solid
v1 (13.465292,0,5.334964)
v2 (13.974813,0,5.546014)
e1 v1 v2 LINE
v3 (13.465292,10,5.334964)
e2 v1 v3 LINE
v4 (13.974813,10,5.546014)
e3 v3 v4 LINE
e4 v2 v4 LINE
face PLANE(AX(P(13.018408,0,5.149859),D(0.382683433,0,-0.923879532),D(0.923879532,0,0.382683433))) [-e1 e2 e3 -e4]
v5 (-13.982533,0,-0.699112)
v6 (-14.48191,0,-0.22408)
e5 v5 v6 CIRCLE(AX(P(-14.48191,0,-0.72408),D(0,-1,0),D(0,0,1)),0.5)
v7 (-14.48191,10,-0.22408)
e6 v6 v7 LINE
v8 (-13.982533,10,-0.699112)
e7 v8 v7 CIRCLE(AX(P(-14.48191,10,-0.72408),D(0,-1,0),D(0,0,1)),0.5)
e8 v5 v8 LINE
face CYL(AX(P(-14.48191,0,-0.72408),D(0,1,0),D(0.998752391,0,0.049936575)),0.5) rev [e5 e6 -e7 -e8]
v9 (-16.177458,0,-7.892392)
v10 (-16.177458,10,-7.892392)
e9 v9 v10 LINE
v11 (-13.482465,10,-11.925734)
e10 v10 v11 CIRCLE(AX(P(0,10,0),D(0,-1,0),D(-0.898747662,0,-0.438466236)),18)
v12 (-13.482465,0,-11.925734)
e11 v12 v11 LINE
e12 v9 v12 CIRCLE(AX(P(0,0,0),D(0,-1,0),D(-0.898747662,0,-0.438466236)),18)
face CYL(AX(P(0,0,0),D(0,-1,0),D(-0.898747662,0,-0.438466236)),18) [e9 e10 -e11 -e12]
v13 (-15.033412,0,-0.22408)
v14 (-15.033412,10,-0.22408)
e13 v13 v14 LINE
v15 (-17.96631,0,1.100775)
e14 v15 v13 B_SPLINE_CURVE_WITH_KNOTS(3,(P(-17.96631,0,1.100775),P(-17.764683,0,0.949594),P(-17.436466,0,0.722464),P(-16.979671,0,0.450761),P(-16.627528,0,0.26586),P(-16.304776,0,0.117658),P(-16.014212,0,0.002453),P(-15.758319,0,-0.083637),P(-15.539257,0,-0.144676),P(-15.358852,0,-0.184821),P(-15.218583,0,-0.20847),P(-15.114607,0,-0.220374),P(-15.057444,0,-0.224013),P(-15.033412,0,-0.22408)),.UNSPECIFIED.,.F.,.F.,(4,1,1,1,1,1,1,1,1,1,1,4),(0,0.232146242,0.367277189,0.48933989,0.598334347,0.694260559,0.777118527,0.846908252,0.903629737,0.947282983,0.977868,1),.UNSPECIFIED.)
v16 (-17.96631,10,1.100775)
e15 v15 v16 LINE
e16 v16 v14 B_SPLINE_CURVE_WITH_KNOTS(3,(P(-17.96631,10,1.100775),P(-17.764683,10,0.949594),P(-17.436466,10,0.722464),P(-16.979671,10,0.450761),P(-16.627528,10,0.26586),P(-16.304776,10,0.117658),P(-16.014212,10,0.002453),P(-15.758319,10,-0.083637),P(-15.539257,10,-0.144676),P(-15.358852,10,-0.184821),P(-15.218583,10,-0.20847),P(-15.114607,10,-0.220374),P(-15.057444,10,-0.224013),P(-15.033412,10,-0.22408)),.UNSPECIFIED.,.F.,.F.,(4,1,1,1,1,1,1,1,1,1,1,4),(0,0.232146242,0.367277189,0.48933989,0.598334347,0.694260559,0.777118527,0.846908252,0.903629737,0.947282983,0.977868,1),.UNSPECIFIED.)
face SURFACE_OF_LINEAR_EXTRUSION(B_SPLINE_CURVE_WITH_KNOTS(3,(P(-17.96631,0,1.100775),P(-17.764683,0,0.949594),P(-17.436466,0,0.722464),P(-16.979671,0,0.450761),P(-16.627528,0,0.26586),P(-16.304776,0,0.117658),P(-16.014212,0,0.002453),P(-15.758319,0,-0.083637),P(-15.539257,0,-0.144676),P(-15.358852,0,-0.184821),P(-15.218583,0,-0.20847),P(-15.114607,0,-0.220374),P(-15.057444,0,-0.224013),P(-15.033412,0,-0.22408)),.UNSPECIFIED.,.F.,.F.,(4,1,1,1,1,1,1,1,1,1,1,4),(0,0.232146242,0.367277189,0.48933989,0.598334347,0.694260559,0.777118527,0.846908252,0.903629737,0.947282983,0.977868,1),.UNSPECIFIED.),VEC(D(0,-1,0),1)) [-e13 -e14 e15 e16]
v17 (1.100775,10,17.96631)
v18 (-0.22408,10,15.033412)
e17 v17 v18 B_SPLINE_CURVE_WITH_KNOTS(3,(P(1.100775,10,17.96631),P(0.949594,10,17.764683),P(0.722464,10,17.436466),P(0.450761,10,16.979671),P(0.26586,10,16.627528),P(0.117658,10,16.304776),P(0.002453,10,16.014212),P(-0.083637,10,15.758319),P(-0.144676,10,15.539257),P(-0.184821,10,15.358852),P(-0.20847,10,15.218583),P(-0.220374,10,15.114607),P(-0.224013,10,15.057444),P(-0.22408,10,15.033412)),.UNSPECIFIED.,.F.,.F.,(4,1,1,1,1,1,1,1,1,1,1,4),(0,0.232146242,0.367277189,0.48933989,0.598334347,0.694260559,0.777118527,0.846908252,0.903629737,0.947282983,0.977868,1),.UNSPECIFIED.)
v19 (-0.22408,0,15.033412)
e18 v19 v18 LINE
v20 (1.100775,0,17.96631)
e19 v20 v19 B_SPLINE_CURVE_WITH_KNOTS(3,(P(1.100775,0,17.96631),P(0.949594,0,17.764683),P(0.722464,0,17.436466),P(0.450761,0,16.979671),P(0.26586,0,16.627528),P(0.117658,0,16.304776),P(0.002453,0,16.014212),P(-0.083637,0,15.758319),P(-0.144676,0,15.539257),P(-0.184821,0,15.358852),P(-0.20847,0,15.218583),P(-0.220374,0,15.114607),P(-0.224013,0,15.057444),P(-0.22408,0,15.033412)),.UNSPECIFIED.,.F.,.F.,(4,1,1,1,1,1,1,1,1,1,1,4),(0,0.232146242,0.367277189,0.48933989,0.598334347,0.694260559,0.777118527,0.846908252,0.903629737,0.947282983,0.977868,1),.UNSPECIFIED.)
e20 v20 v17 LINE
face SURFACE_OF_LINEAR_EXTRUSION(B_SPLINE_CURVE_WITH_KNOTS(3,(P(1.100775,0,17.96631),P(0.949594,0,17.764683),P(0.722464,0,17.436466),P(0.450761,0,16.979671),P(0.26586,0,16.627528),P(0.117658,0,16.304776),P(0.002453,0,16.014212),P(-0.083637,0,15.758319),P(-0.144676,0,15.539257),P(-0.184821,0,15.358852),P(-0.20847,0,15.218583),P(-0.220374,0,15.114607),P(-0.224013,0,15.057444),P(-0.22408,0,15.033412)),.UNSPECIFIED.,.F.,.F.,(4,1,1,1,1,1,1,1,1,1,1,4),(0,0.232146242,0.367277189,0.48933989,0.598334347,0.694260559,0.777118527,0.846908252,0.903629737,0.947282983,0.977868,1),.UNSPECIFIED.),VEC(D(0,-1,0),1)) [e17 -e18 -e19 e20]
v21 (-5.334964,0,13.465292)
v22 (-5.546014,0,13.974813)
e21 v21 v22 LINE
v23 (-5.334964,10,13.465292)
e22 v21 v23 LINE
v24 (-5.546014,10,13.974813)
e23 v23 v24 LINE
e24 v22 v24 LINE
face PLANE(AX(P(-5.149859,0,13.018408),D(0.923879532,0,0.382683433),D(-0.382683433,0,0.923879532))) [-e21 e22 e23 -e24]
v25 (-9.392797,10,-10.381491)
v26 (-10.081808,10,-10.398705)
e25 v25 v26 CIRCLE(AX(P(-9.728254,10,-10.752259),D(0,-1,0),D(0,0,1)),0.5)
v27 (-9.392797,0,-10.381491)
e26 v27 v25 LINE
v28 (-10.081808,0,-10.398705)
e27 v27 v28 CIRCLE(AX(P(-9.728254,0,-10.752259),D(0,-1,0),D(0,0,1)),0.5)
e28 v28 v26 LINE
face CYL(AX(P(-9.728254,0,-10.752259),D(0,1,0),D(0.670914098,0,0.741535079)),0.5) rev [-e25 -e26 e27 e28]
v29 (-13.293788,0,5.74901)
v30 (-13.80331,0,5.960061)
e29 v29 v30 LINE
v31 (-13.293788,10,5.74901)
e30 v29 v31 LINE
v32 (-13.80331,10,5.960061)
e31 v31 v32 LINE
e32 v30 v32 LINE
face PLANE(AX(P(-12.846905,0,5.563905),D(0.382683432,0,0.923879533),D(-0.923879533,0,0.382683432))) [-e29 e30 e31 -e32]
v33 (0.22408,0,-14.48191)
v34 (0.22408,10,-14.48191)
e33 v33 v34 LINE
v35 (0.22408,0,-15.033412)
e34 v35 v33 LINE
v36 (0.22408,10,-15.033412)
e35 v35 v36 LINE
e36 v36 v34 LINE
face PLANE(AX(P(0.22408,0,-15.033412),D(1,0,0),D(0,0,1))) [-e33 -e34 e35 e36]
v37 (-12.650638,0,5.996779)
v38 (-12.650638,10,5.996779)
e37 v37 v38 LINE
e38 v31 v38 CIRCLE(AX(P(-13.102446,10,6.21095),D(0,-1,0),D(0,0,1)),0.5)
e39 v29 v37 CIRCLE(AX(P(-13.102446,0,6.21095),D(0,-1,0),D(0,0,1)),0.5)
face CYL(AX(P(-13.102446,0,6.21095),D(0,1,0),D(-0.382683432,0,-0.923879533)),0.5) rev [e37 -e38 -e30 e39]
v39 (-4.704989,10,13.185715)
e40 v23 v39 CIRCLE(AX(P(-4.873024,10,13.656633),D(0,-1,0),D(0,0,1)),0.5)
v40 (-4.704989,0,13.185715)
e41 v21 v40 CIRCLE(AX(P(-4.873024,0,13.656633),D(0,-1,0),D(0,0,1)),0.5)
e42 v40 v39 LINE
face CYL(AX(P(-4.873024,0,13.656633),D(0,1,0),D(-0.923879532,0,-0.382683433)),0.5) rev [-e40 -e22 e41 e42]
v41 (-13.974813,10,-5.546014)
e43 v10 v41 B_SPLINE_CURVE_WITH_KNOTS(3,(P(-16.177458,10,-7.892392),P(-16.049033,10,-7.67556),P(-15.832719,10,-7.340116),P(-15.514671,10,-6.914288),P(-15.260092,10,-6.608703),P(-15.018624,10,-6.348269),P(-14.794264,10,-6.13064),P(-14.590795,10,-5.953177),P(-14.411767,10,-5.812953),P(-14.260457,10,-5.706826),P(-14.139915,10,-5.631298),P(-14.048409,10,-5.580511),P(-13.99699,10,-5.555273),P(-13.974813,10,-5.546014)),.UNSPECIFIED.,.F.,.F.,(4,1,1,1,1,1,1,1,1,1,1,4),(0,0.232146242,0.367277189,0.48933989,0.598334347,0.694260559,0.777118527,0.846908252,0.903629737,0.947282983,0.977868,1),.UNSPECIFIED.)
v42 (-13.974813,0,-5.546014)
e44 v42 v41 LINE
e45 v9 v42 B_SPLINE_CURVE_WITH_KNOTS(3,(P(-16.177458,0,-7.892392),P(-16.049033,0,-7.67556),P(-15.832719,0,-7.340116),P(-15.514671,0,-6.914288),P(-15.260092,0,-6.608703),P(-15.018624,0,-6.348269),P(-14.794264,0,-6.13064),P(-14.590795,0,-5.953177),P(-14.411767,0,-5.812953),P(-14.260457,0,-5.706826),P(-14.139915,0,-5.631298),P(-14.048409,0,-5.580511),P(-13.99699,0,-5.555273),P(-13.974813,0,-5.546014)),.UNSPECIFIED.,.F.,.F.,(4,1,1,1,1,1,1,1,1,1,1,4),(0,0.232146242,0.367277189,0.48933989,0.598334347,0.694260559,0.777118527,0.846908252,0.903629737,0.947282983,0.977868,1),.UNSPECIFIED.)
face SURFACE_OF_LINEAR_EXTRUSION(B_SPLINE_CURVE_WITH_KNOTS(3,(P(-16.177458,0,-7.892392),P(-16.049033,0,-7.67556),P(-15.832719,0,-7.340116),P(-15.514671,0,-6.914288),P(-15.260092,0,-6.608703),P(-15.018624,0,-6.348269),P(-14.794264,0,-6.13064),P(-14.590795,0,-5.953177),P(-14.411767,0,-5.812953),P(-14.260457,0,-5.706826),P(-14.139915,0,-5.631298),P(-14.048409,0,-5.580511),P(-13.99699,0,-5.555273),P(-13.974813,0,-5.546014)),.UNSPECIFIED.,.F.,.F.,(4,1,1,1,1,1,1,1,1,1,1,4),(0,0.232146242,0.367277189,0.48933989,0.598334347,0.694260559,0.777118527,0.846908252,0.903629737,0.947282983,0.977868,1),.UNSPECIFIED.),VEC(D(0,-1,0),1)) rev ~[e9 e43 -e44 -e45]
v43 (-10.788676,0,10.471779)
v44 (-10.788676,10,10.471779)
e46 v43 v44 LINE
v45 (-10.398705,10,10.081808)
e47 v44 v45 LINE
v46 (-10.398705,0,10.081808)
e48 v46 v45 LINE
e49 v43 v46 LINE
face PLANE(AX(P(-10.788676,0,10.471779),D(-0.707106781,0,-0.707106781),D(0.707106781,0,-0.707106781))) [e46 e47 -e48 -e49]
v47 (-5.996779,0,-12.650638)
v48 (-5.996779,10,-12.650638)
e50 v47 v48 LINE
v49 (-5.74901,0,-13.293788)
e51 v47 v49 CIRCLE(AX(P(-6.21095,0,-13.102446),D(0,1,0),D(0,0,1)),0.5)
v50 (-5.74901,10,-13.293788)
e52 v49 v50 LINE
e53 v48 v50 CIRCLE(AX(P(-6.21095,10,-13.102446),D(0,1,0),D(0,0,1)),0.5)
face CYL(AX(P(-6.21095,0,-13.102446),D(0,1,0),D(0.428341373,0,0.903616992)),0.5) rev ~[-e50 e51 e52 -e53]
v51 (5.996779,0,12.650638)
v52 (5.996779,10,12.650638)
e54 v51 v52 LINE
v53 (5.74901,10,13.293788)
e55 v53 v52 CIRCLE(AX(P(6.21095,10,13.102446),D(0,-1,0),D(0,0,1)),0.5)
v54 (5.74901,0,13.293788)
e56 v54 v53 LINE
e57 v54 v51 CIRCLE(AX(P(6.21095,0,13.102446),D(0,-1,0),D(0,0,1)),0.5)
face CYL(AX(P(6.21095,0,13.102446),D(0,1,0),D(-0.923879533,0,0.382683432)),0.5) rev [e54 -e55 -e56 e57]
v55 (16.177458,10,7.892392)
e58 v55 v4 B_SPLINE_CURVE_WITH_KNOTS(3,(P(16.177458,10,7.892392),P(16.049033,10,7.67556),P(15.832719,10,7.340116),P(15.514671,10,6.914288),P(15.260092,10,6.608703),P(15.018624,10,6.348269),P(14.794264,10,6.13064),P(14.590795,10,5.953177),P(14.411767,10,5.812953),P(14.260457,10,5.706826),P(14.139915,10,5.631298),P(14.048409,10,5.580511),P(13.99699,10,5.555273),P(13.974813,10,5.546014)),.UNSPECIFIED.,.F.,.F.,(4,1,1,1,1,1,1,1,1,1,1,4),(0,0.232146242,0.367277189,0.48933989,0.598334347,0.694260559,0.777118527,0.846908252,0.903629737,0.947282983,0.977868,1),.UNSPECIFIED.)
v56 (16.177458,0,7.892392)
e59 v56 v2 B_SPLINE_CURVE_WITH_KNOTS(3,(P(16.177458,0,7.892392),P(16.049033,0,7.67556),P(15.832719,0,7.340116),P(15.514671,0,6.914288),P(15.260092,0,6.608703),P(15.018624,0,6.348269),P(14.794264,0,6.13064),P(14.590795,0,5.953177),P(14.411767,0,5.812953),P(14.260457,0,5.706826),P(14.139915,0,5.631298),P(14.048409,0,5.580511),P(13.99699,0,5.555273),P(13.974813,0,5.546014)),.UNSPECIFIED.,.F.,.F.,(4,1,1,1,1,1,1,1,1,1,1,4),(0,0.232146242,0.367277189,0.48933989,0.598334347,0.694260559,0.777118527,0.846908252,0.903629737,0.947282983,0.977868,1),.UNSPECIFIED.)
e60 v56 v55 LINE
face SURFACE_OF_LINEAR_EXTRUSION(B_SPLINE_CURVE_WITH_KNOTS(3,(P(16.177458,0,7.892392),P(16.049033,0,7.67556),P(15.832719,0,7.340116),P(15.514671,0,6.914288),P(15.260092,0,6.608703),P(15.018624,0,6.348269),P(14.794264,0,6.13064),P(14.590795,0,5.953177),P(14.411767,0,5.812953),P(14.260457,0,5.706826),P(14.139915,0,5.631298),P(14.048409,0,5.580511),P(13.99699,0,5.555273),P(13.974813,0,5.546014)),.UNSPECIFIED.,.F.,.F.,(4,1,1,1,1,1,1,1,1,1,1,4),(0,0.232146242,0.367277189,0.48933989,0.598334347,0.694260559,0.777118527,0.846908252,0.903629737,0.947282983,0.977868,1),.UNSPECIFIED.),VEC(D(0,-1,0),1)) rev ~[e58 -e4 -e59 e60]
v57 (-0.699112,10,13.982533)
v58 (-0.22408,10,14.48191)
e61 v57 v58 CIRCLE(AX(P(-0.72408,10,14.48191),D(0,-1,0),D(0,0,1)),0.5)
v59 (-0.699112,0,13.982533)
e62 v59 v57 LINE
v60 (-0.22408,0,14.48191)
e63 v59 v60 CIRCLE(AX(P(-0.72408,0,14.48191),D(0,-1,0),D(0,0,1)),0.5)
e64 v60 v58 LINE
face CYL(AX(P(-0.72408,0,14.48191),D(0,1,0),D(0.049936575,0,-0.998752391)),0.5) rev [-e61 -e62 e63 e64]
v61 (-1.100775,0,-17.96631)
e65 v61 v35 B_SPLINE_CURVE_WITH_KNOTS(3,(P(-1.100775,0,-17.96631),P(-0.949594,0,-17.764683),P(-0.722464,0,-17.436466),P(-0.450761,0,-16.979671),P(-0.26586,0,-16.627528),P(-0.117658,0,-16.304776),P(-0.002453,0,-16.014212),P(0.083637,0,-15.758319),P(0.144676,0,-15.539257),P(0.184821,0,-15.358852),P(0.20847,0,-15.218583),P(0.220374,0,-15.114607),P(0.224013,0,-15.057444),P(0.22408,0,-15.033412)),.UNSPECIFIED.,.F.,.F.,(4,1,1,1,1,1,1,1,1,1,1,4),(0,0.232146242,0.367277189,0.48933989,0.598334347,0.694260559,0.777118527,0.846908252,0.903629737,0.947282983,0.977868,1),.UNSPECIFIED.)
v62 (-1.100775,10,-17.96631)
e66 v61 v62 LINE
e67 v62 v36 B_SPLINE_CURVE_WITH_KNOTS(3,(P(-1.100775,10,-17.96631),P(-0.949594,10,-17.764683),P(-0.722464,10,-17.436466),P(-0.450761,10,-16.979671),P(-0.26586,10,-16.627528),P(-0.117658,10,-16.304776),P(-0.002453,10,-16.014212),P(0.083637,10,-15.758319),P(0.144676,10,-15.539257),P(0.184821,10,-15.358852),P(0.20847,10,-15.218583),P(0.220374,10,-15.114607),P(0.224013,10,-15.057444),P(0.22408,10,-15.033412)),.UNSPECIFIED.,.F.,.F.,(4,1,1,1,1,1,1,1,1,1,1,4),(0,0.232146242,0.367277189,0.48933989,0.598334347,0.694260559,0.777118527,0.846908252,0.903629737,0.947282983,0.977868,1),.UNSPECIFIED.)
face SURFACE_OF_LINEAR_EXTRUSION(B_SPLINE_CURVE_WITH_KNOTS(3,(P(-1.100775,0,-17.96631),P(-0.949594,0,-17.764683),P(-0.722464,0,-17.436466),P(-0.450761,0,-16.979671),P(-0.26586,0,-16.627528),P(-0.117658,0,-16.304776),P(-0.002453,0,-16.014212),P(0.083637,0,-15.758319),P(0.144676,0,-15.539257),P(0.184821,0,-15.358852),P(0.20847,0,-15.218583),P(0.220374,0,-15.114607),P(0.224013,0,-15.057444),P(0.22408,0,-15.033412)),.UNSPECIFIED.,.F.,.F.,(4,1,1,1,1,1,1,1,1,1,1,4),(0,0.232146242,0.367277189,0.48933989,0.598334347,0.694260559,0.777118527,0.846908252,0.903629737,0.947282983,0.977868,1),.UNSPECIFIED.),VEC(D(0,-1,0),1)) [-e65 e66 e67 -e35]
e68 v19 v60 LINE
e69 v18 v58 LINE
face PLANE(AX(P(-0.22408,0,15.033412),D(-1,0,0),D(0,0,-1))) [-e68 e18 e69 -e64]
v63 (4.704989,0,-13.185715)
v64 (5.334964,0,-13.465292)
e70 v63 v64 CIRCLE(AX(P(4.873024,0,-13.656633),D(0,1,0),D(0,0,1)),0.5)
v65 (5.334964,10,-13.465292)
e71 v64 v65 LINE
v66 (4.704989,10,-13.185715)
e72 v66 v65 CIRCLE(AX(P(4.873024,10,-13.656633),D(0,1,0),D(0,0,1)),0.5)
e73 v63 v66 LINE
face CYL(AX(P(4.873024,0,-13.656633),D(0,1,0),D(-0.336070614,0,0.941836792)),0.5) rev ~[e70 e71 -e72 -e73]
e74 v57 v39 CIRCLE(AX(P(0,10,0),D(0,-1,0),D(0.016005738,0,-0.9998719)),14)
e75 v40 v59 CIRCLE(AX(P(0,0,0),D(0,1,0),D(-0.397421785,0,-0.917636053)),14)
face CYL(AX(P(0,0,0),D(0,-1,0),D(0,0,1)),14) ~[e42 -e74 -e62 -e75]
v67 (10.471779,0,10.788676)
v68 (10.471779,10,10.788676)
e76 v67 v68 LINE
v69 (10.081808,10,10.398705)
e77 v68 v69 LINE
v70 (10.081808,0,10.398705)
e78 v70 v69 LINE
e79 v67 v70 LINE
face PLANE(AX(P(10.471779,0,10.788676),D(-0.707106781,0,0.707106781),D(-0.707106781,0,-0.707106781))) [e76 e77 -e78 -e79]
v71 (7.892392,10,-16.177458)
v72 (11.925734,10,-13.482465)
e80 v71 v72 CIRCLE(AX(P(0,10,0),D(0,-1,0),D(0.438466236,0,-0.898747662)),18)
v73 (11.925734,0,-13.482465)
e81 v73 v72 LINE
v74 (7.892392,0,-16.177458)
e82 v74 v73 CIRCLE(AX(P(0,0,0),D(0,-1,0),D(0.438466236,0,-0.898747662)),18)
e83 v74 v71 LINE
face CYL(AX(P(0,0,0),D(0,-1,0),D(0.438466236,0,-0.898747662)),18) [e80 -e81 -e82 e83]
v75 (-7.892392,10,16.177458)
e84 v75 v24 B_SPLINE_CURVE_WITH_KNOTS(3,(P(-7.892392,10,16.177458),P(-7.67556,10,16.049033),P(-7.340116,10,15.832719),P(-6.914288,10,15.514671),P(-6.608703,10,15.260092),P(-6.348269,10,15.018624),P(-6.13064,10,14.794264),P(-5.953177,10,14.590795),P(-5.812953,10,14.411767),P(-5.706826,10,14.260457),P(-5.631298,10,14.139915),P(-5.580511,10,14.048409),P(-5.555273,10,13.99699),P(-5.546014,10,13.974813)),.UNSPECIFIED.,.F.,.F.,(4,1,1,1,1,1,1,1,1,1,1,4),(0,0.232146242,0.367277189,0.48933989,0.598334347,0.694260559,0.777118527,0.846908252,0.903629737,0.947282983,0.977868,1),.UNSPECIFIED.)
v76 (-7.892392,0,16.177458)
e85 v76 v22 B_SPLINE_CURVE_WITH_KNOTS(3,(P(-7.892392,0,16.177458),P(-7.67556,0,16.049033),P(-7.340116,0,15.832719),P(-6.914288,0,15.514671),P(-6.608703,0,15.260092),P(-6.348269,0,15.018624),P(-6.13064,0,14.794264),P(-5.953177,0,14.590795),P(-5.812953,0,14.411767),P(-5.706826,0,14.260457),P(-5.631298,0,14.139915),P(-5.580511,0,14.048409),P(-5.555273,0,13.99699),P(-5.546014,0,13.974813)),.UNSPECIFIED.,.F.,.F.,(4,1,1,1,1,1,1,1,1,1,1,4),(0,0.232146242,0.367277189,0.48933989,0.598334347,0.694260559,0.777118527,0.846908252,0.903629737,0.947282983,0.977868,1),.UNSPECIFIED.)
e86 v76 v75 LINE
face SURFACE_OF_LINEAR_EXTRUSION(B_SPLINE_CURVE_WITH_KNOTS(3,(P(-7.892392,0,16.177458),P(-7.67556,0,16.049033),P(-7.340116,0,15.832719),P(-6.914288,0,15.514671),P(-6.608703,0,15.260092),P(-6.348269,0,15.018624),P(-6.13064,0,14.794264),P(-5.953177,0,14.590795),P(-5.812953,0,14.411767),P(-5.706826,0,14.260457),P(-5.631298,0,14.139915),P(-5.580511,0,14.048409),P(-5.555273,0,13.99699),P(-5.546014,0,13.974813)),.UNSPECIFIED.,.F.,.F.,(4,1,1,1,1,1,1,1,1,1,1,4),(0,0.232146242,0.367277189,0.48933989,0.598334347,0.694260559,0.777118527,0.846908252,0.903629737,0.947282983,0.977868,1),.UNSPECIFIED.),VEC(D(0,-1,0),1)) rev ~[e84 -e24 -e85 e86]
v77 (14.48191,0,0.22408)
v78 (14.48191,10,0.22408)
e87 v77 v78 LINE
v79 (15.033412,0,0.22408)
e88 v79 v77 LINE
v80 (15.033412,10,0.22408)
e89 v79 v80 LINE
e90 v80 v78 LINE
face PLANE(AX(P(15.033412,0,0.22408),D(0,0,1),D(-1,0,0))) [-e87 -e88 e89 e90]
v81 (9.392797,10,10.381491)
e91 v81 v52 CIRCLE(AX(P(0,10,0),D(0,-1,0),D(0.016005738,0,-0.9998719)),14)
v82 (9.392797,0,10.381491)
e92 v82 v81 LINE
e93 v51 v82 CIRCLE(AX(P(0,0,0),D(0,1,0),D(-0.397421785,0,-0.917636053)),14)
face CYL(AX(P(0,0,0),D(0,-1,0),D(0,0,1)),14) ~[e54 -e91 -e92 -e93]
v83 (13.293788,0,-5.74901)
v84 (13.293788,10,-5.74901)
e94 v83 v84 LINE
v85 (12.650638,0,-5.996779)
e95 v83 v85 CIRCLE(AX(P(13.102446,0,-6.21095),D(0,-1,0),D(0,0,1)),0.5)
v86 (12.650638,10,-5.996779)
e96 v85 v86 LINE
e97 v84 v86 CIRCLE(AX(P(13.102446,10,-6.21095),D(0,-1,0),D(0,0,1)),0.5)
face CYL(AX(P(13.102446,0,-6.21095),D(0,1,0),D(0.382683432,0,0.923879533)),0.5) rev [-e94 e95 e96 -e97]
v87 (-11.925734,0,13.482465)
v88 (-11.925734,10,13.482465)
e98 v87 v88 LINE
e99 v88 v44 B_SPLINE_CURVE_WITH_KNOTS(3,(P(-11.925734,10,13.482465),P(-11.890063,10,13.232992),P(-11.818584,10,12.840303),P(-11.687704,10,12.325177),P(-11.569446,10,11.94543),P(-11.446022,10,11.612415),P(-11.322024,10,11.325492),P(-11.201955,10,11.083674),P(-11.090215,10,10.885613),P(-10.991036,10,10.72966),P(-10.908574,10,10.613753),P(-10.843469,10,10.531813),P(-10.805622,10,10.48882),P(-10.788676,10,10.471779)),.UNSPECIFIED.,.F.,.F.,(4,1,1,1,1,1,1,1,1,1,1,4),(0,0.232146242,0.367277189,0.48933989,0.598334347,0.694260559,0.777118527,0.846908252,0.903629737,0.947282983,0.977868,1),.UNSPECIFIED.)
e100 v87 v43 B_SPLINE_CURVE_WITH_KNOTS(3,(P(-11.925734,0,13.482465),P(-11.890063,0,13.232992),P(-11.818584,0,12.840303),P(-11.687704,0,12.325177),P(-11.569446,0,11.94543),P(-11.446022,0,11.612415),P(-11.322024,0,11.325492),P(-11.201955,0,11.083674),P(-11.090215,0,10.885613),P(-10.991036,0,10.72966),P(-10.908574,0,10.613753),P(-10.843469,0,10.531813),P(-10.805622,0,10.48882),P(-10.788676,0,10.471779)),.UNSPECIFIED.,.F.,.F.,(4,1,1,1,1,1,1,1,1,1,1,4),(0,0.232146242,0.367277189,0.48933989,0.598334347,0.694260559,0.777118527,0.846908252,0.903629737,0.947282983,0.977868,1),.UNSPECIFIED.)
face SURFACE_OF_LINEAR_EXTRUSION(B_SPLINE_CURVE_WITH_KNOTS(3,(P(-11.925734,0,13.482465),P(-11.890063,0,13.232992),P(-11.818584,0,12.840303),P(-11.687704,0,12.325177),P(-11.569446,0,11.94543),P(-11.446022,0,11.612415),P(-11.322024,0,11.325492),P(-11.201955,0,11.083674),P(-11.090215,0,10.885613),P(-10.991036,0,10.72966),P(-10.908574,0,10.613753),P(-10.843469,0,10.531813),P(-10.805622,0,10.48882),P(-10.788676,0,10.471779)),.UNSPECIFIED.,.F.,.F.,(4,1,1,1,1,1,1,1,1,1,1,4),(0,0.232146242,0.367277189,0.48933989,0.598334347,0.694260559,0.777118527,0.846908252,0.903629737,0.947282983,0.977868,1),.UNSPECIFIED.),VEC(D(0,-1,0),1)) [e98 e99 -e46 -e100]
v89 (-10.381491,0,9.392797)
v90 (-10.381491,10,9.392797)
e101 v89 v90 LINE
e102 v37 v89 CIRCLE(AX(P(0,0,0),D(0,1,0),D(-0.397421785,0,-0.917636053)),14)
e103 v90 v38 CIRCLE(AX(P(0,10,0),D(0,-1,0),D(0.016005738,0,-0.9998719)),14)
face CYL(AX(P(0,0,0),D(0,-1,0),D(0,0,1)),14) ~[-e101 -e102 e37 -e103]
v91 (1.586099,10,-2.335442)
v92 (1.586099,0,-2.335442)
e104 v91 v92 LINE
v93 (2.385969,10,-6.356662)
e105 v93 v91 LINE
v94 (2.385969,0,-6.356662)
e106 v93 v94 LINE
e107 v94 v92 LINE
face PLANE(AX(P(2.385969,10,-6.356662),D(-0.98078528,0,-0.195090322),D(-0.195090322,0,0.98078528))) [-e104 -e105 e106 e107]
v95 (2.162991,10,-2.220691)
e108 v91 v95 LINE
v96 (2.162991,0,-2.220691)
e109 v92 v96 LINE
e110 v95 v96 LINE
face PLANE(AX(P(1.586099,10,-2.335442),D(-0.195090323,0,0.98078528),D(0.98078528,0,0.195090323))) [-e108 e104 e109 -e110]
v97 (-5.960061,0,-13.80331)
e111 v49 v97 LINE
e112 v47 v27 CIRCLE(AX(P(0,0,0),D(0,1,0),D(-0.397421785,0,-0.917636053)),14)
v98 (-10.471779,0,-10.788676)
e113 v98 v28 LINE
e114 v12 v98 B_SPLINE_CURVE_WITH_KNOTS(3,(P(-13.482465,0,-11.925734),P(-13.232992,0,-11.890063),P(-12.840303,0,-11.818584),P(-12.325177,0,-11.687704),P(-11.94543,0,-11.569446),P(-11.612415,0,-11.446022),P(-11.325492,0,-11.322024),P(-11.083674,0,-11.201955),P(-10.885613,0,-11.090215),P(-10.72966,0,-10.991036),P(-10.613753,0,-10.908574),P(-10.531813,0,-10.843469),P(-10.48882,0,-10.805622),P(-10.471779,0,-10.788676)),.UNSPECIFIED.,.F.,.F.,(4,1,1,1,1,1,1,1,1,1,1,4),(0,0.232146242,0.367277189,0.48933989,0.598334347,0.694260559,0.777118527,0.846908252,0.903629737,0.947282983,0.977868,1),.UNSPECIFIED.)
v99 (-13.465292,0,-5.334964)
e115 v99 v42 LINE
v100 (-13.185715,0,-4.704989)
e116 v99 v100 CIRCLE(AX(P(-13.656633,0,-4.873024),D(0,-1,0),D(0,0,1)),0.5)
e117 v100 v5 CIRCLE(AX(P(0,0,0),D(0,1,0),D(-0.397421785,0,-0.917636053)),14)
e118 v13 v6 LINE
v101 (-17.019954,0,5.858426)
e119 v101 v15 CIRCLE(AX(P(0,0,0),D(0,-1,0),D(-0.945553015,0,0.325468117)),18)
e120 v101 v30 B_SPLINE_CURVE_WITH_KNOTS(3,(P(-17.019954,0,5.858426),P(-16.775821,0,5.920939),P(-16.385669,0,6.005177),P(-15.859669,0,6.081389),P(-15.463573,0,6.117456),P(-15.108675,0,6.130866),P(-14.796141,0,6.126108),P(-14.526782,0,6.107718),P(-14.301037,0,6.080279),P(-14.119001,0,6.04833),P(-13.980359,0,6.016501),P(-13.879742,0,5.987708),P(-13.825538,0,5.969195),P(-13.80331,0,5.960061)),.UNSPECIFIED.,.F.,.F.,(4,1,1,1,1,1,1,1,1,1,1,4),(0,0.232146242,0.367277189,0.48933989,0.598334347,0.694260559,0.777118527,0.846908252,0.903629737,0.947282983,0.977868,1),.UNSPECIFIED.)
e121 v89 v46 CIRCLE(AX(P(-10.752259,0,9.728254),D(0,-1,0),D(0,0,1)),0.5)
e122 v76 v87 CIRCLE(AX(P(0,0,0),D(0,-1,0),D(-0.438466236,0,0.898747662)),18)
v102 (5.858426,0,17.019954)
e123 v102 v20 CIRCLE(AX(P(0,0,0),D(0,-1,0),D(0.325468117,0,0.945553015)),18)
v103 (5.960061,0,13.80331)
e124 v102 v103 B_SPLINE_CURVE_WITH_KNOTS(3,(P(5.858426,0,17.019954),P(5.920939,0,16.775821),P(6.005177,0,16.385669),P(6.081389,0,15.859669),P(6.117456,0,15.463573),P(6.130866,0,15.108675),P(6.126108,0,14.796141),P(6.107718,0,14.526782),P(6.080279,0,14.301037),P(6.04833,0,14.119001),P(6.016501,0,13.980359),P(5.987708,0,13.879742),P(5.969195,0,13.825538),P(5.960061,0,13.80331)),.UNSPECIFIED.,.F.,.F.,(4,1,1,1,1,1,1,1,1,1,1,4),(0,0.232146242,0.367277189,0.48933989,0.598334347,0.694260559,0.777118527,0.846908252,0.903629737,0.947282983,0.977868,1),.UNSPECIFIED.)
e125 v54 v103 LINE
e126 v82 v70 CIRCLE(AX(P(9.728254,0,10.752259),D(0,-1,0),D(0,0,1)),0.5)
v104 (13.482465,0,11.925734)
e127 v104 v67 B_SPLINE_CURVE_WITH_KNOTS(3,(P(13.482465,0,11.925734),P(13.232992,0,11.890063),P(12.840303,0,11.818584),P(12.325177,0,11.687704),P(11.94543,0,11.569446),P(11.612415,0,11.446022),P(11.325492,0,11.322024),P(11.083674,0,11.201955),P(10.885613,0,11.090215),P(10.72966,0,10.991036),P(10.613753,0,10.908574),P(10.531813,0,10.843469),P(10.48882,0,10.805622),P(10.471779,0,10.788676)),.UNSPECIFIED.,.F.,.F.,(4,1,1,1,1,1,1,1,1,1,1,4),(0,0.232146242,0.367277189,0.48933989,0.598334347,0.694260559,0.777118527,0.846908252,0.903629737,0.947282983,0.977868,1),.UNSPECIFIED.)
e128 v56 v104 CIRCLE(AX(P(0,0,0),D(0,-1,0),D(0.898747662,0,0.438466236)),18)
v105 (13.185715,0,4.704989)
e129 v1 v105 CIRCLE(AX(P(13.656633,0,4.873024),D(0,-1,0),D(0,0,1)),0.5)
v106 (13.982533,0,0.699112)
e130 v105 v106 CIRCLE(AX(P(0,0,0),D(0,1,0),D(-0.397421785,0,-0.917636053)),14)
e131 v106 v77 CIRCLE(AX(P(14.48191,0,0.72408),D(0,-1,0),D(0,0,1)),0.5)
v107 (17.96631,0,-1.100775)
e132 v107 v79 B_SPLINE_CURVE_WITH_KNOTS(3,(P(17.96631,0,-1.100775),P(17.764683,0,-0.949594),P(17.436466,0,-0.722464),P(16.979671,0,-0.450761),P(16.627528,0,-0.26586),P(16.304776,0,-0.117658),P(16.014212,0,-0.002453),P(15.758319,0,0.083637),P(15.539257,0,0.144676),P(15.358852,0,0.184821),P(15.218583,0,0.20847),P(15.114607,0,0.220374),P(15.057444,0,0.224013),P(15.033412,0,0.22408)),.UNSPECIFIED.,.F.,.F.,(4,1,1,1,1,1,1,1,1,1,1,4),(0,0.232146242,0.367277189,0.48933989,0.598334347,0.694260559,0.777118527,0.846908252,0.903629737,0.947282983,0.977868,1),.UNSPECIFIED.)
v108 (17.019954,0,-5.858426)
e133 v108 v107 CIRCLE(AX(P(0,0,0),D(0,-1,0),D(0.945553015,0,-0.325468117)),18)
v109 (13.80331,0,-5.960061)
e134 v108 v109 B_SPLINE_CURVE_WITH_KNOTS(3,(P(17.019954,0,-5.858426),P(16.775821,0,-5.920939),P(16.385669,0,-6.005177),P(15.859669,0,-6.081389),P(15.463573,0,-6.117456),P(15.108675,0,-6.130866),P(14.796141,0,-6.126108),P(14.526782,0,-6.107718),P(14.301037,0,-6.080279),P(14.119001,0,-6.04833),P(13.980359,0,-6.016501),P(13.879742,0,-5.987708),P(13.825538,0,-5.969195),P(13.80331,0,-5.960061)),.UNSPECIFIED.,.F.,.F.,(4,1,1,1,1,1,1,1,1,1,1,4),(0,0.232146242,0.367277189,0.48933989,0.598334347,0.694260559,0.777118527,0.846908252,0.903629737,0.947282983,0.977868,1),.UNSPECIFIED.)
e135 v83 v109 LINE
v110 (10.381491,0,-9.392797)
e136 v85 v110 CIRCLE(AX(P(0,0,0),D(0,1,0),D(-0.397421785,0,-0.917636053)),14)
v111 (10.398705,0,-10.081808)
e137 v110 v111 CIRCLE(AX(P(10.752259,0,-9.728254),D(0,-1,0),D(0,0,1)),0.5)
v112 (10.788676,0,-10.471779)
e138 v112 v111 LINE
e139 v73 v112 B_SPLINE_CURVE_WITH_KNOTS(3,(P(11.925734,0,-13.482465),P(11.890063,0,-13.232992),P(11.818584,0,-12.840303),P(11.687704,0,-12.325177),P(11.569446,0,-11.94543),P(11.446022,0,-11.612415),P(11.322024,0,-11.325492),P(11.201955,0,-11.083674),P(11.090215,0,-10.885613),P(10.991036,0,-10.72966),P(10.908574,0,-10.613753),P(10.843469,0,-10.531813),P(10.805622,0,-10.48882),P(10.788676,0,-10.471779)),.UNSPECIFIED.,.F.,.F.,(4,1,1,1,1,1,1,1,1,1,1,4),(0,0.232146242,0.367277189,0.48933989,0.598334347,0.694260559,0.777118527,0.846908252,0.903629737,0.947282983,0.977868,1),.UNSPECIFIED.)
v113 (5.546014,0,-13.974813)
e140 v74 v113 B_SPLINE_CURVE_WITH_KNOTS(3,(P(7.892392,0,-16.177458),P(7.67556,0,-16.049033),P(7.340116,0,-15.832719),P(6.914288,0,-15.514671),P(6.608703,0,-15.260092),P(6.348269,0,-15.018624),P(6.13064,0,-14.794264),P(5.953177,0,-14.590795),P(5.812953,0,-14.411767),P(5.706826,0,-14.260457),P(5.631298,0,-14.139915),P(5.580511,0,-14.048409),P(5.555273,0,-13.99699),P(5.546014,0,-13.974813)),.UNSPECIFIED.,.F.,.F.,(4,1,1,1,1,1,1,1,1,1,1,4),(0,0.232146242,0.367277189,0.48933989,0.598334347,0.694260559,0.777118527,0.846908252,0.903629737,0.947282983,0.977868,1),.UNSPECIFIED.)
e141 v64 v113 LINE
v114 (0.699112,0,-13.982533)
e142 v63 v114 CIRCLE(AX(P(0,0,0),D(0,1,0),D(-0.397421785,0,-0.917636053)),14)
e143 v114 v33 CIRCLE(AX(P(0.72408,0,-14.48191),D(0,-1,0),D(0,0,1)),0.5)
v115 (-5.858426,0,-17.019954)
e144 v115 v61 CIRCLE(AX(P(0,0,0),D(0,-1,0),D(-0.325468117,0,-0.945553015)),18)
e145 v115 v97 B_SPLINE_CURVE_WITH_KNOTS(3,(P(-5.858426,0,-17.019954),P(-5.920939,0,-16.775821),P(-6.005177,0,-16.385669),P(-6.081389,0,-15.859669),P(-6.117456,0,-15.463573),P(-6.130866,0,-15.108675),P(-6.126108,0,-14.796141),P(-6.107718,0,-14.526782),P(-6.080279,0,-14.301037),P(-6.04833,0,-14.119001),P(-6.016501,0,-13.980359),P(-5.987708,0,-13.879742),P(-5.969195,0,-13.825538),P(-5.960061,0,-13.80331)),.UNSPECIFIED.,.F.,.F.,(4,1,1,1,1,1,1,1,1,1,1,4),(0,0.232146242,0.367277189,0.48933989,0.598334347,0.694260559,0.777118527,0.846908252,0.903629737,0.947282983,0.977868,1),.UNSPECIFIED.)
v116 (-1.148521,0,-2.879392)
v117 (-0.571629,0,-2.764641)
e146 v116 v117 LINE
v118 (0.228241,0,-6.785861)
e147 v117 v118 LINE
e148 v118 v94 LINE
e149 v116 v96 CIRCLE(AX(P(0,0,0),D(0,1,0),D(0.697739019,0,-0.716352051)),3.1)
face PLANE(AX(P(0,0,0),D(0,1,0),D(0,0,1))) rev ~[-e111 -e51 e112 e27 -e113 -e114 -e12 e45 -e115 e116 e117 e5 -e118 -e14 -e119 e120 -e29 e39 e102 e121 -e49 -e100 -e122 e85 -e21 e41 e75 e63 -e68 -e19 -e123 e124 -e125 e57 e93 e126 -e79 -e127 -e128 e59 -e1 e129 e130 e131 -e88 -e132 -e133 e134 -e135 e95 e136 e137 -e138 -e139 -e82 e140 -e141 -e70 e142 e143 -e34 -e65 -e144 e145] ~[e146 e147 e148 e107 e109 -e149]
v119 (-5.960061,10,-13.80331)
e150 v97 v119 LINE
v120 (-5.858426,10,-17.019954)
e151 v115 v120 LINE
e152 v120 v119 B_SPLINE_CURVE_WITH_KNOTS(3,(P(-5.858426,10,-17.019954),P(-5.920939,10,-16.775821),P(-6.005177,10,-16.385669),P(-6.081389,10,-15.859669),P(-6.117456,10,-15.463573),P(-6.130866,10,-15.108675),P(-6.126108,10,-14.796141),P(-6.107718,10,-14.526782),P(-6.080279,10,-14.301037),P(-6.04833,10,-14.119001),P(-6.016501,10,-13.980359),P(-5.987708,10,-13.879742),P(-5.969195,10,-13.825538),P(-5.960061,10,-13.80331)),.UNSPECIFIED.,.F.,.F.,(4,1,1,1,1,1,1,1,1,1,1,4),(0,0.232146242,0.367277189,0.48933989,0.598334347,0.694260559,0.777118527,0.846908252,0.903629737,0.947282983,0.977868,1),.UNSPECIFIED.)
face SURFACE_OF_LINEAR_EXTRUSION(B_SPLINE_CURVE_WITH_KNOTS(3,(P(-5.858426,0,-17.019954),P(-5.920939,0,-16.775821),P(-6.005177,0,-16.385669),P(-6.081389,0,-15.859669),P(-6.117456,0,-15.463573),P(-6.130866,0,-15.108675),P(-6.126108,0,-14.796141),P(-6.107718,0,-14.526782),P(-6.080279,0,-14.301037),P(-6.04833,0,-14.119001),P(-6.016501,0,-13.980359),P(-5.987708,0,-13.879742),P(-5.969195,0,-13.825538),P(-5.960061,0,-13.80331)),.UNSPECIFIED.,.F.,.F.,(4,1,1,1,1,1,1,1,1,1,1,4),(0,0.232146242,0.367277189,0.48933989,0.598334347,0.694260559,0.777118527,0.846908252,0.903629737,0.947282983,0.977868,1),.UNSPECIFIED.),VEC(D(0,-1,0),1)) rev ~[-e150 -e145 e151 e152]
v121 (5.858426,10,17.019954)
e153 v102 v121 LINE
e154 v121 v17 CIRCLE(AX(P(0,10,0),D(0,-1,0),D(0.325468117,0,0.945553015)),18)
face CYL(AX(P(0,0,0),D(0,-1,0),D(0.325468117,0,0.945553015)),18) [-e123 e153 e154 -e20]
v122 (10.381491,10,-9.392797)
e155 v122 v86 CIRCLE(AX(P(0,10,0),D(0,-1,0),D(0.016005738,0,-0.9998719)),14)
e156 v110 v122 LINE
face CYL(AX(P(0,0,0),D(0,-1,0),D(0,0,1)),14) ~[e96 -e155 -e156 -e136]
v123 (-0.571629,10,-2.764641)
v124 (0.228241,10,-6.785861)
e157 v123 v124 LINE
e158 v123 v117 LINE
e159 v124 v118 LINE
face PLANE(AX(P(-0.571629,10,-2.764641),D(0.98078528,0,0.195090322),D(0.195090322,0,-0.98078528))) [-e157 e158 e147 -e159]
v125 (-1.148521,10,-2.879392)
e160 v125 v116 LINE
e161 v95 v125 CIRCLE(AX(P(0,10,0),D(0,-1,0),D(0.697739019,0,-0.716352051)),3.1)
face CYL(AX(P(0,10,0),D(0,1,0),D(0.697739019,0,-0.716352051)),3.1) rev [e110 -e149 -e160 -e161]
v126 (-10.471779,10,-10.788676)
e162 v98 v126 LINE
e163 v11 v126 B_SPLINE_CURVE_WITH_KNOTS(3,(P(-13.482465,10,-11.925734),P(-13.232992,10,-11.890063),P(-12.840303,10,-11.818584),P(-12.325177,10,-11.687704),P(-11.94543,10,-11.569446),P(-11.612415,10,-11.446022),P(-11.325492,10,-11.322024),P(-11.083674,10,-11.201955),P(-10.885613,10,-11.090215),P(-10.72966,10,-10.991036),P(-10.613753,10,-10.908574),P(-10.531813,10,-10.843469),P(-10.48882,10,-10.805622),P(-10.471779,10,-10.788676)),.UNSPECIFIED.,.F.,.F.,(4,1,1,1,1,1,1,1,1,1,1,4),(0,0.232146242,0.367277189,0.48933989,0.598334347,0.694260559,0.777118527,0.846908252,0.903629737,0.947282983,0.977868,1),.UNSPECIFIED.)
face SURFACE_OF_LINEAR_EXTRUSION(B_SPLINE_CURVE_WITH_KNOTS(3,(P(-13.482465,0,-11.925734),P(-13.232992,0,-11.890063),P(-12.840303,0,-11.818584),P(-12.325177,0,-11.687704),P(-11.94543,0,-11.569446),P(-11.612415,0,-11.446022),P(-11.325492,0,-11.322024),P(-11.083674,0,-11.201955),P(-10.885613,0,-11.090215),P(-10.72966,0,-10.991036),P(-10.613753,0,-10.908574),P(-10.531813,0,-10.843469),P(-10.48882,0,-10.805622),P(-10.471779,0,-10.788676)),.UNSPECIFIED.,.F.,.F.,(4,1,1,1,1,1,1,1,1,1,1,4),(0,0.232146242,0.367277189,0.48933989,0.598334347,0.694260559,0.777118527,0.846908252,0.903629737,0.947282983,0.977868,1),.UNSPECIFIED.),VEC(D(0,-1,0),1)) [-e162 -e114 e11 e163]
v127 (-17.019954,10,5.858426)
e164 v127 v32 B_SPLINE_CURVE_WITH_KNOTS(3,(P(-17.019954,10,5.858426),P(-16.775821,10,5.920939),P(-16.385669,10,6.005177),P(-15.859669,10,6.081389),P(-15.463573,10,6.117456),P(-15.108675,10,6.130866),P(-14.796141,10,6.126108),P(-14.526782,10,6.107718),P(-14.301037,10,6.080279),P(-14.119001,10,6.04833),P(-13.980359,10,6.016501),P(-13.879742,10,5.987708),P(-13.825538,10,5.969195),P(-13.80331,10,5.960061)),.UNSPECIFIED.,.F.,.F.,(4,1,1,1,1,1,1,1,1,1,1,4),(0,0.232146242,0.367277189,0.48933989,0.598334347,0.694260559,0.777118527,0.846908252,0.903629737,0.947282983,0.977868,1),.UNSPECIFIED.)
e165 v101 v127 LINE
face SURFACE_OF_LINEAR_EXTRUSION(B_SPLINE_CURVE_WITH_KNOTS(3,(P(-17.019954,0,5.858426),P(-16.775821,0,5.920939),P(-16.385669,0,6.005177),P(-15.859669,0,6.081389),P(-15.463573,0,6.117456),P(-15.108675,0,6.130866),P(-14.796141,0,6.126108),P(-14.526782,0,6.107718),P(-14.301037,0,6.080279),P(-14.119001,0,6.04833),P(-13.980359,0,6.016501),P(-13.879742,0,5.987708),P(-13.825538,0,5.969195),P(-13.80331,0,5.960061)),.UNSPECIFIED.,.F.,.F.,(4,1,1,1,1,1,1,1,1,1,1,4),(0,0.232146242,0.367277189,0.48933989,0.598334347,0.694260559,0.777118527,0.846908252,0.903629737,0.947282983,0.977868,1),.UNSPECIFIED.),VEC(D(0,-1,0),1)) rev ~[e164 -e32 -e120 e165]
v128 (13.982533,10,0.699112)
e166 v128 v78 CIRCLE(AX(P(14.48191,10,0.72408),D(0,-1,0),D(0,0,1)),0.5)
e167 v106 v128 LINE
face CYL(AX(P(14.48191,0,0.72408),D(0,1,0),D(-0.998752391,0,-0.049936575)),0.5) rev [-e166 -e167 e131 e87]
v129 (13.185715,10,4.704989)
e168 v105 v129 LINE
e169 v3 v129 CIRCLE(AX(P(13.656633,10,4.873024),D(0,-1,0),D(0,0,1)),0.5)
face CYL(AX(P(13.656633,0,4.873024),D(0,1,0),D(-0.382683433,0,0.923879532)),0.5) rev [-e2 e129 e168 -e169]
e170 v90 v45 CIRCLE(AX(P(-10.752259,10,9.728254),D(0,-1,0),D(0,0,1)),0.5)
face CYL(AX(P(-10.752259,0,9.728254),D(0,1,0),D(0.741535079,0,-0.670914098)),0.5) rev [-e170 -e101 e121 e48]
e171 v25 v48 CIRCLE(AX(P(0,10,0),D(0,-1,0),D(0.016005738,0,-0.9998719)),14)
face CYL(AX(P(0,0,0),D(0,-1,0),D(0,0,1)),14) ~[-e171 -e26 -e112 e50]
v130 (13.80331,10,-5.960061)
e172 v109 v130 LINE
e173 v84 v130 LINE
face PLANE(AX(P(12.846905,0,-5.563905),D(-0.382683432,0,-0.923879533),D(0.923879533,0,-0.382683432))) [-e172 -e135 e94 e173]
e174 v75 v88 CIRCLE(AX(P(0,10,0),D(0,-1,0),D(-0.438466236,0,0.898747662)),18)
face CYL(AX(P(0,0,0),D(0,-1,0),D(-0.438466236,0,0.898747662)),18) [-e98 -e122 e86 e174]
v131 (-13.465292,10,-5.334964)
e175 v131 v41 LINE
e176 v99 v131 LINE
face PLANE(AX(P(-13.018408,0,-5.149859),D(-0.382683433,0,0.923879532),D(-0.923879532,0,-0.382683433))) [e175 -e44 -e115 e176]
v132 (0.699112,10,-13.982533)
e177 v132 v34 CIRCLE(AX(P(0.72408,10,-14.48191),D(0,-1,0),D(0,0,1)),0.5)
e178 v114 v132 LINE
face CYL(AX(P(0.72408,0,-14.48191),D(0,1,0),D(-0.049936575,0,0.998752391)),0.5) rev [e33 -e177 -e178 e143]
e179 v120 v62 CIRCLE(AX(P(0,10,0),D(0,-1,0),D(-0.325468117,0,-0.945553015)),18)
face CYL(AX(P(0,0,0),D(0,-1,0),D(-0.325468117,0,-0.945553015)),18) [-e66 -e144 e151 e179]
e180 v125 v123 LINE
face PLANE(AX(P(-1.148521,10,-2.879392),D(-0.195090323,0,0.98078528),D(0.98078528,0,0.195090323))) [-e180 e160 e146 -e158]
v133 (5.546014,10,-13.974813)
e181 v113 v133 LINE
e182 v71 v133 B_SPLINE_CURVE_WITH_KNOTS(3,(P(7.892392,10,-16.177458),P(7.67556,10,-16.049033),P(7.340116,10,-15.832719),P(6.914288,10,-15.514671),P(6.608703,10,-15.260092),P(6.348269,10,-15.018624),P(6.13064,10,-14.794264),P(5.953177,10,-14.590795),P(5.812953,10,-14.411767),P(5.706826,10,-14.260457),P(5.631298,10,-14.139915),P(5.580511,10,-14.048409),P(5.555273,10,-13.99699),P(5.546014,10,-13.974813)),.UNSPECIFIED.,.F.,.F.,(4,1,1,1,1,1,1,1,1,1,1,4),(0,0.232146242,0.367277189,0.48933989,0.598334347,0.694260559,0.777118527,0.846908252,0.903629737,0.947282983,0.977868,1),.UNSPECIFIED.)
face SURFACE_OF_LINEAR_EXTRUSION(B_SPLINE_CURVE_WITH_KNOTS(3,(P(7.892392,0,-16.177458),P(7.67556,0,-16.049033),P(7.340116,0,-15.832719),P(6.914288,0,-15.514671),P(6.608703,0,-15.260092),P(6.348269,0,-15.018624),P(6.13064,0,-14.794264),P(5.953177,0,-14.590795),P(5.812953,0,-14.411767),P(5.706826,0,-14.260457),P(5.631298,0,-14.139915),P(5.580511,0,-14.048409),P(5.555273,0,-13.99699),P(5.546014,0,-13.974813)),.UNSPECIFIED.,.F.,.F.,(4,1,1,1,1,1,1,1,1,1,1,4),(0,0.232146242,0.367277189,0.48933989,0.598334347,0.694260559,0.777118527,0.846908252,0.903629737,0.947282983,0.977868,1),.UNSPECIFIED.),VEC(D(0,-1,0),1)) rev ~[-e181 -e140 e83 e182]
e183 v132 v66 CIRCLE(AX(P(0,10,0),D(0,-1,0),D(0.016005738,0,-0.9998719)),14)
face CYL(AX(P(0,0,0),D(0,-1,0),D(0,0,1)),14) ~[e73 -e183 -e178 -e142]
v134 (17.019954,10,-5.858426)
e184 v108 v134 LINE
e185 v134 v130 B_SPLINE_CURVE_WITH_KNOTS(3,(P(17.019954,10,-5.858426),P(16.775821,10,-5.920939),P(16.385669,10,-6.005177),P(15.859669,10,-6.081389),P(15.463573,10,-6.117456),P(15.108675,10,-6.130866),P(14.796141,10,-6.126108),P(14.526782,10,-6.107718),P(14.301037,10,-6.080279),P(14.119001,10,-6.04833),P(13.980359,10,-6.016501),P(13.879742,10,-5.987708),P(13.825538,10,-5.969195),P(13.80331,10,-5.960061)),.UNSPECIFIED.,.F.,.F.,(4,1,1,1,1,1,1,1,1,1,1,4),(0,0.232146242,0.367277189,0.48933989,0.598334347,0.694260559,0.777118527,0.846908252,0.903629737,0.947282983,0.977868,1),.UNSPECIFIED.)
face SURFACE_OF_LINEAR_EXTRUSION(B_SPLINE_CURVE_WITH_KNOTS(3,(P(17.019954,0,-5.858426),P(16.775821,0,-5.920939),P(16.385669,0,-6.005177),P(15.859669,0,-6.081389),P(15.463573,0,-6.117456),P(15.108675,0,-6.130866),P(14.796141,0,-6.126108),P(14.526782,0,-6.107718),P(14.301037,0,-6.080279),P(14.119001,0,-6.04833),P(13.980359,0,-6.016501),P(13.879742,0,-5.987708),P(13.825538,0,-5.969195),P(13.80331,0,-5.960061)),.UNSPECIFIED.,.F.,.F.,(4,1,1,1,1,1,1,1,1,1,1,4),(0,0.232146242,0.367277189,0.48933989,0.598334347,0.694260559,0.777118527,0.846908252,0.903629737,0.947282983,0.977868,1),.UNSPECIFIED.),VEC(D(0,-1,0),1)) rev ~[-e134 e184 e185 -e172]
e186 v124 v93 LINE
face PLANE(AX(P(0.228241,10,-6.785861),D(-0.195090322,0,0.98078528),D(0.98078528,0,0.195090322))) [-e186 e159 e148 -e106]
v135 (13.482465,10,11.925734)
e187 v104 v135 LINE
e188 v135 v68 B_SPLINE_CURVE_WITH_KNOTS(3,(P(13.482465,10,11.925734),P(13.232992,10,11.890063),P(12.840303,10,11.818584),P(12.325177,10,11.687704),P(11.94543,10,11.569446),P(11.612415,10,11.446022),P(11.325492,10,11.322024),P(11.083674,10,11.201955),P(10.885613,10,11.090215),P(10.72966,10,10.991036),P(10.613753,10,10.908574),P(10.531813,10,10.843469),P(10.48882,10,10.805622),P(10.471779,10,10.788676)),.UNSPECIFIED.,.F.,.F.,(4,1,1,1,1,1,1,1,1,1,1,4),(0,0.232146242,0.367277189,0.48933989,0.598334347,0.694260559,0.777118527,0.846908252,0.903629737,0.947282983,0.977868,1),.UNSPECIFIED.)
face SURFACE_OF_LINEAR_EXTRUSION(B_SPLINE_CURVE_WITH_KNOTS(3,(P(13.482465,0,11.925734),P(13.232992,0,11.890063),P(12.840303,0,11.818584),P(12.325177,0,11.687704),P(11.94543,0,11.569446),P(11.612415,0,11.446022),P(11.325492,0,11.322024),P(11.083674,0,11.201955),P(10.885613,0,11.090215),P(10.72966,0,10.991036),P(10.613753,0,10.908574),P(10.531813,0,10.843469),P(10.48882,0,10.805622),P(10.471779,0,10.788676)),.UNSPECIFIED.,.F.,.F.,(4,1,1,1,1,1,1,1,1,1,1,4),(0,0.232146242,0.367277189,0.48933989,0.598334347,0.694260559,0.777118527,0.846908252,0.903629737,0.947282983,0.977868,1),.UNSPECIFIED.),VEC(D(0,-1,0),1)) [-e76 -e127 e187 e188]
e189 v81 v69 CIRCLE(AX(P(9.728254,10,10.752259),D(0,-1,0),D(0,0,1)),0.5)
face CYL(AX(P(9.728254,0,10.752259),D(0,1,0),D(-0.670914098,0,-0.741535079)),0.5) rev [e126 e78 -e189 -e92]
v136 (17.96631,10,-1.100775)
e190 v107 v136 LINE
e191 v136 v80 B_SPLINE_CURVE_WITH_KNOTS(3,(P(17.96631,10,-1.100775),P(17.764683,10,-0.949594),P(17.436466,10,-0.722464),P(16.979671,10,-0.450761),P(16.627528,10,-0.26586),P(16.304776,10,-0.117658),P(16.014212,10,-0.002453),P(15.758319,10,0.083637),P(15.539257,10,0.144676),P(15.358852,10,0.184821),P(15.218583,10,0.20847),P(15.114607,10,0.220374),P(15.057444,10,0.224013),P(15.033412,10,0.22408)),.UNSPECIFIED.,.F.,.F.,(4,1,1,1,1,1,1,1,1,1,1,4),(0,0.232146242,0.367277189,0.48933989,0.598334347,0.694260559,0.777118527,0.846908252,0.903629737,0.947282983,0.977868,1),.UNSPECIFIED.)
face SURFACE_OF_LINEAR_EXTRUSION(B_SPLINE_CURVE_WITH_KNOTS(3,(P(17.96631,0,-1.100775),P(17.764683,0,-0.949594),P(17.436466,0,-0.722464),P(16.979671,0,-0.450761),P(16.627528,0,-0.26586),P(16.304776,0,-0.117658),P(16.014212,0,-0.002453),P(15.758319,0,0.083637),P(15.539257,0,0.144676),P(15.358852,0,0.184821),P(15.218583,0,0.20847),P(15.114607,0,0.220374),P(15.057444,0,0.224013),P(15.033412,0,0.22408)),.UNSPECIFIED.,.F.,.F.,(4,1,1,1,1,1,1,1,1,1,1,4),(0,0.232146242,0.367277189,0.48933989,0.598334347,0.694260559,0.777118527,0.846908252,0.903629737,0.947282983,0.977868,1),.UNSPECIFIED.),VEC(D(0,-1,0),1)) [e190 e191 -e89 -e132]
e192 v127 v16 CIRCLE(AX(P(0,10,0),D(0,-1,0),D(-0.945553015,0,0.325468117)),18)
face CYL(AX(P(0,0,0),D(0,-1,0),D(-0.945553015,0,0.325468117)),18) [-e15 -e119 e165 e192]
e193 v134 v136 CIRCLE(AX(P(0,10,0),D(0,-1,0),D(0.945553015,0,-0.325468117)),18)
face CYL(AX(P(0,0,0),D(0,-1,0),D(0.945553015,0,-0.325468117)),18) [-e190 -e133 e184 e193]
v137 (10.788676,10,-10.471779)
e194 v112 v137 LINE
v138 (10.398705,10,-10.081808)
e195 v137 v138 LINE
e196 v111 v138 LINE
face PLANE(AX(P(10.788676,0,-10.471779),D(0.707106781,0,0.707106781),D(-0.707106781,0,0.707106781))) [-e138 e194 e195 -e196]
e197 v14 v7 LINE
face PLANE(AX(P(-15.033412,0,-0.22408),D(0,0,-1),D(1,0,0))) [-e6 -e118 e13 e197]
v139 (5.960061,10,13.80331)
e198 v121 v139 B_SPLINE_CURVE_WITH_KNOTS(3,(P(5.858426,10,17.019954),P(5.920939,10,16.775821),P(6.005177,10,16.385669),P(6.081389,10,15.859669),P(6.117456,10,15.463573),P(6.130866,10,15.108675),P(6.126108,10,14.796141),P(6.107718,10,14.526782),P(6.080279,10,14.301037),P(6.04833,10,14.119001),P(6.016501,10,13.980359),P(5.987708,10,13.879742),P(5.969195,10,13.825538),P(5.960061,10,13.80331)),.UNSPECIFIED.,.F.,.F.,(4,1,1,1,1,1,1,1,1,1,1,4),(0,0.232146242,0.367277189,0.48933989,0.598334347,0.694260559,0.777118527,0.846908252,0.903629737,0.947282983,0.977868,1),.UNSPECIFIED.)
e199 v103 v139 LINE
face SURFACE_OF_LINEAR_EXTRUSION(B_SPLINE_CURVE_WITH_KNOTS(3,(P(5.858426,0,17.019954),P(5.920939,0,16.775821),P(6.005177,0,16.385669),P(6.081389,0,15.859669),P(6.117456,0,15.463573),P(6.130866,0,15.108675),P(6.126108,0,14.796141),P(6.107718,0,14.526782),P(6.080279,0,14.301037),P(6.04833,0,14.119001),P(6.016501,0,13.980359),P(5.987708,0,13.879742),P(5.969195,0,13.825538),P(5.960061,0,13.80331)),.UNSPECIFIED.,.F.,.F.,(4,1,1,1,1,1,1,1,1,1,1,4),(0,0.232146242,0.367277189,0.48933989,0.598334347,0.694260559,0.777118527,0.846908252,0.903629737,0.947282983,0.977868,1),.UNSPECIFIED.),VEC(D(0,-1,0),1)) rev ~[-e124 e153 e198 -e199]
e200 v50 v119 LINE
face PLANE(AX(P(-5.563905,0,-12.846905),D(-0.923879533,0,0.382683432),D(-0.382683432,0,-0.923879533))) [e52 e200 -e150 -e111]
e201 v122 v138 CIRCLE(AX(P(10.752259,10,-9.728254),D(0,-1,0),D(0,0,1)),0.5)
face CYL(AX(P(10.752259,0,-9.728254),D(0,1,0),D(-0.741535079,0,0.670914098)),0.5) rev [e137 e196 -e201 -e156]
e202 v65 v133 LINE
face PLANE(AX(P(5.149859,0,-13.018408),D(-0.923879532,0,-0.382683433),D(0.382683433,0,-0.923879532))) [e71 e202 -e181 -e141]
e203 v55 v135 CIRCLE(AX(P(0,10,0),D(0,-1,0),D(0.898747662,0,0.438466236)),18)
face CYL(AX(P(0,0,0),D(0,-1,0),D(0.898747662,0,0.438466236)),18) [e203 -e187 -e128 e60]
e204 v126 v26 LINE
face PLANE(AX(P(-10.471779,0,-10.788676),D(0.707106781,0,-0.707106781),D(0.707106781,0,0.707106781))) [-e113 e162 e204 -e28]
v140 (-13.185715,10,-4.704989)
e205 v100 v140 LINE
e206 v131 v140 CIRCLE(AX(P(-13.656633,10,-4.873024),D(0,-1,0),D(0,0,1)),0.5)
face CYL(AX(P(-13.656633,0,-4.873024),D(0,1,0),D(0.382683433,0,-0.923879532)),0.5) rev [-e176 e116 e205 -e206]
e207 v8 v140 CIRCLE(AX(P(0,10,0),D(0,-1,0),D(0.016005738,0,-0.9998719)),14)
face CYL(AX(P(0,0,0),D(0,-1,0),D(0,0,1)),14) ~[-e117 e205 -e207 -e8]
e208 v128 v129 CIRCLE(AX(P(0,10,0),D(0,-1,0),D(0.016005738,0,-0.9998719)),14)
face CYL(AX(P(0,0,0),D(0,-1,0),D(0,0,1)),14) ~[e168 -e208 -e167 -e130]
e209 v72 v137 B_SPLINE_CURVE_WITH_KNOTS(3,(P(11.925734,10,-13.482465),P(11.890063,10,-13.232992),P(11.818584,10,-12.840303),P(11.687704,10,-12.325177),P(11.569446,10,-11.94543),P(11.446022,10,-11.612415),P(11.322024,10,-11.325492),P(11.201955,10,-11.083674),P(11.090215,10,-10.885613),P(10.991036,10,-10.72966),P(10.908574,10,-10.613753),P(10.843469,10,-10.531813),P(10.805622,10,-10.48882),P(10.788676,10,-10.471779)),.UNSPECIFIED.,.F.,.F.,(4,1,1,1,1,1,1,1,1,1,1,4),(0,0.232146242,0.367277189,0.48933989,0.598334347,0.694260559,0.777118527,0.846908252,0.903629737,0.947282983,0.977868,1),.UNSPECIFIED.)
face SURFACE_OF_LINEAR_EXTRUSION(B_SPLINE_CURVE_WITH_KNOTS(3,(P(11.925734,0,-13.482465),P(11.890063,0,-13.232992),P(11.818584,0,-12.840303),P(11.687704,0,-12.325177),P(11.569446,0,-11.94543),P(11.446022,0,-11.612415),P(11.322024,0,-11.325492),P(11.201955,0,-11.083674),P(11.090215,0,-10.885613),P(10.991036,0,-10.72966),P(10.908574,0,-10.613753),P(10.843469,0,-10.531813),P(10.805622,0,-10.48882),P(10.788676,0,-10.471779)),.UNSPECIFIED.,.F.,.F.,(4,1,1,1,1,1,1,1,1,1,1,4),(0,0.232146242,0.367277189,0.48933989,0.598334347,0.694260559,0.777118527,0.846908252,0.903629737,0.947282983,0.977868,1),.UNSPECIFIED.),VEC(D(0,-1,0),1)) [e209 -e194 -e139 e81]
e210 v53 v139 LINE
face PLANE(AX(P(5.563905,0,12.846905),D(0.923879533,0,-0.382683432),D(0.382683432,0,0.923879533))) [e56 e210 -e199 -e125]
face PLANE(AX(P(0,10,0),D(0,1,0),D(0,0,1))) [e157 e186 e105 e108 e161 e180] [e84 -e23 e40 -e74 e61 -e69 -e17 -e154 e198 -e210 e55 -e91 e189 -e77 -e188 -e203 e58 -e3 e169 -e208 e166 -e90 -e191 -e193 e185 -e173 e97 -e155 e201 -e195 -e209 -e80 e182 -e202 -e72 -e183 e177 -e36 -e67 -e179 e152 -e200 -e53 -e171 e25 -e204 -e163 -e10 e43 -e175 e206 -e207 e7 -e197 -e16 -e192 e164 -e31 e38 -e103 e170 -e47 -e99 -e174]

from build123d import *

# Parameters (mm, degrees)
SKETCH_4_R                       = 14
EXTRUDE_1_DEPTH                  = 10
EXTRUDE_2_DEPTH                  = 10
FILLET_1_R                       = 0.5
PATTERN_CIRCULAR_1_COUNT         = 8
FILLET_1_OF_PATTERN_CIRCULAR_1_R = 0.5
CUT_EXTRUDE_1_DEPTH              = 28.30524858


with BuildPart() as part:
    # Sketch 4 → Extrude 1 (new body)
    with BuildSketch(Plane(origin=(0, 0, 0), x_dir=(1, 0, 0), z_dir=(0, 1, 0))):
        with Locations(Location((0, 0, 0), (0, 0, 270))):
            Circle(SKETCH_4_R)
    extrude(amount=EXTRUDE_1_DEPTH)

    # Sketch 3 → Extrude 2 (add)
    with BuildSketch(Plane(origin=(0, 0, 0), x_dir=(1, 0, 0), z_dir=(0, 1, 0))):
        with BuildLine():
            Line((0.224080336, 15.033412012), (0.224080336, 13.9982066))
            ThreePointArc((0.224080336, 13.9982066), (-2.731264508, 13.730993926), (-5.563904985, 12.846904737))
            Line((-5.563904985, 12.846904737), (-5.960060945, 13.80330983))
            add(Edge.make_bspline(
                [(-5.858426114, 17.019954273), (-5.920939237, 16.775820636), (-6.005177259, 16.385669184), (-6.081389407, 15.859669081), (-6.117456435, 15.463573167), (-6.130866377, 15.108674888), (-6.126107546, 14.796141282), (-6.107718221, 14.526781883), (-6.080279115, 14.301036558), (-6.048330179, 14.119000945), (-6.01650055, 13.980359087), (-5.987708331, 13.879742422), (-5.969195203, 13.825538164), (-5.960060945, 13.80330983)],
                knots=[0, 0, 0, 0, 0.232146242, 0.367277189, 0.48933989, 0.598334347, 0.694260559, 0.777118527, 0.846908252, 0.903629737, 0.947282983, 0.977868, 1, 1, 1, 1], degree=3))
            ThreePointArc((-5.858426114, 17.019954273), (-3.511625796, 17.654135047), (-1.10077454, 17.966310011))
            add(Edge.make_bspline(
                [(-1.10077454, 17.966310011), (-0.949594047, 17.764682676), (-0.722463767, 17.436466231), (-0.450761398, 16.979670628), (-0.265860465, 16.627527975), (-0.117657603, 16.304776481), (-0.002452756, 16.014211953), (0.083637102, 15.758319028), (0.14467567, 15.539257051), (0.184820715, 15.358851746), (0.208469915, 15.218582699), (0.220373703, 15.114606716), (0.224012874, 15.057443845), (0.224080336, 15.033412012)],
                knots=[0, 0, 0, 0, 0.232146242, 0.367277189, 0.48933989, 0.598334347, 0.694260559, 0.777118527, 0.846908252, 0.903629737, 0.947282983, 0.977868, 1, 1, 1, 1], degree=3))
        make_face()
    extrude_2 = extrude(amount=EXTRUDE_2_DEPTH)

    # Fillet 1
    fillet_1_edges = [part.edges().sort_by_distance(p)[0] for p in [
        (-5.563904985, 5, -12.846904737),
        (0.224080336, 5, -13.9982066),
    ]]
    fillet(fillet_1_edges, radius=FILLET_1_R)

    # Pattern Circular 1: Extrude 2 ×8 about axis
    pattern_circular_1_axis = Axis((0, 10, 0), (0, 1, 0))
    for i in range(1, PATTERN_CIRCULAR_1_COUNT):
        add(extrude_2.rotate(pattern_circular_1_axis, i * 360 / PATTERN_CIRCULAR_1_COUNT))

    # Fillet 1 of Pattern Circular 1
    fillet_1_of_pattern_circular_1_edges = [part.edges().sort_by_distance(p)[0] for p in [
        (-13.018408401, 5, -5.149858512),
        (-9.739778086, 5, -10.056675536),
        (-12.846904737, 5, 5.563904985),
        (-13.9982066, 5, -0.224080336),
        (-5.149858512, 5, 13.018408401),
        (-10.056675536, 5, 9.739778086),
        (5.563904985, 5, 12.846904737),
        (-0.224080336, 5, 13.9982066),
        (13.018408401, 5, 5.149858512),
        (9.739778086, 5, 10.056675536),
        (12.846904737, 5, -5.563904985),
        (13.9982066, 5, 0.224080336),
        (5.149858512, 5, -13.018408401),
        (10.056675536, 5, -9.739778086),
    ]]
    fillet(fillet_1_of_pattern_circular_1_edges, radius=FILLET_1_OF_PATTERN_CIRCULAR_1_R)

    # Sketch 5 → Cut-Extrude 1 (cut, through all)
    with BuildSketch(Plane(origin=(0, 10, 0), x_dir=(1, 0, 0), z_dir=(0, 1, 0))):
        with BuildLine():
            Line((-1.148521284, 2.879392099), (-0.571628971, 2.764641083))
            Line((-0.571628971, 2.764641083), (0.228241349, 6.785860733))
            Line((0.228241349, 6.785860733), (2.385968966, 6.356662024))
            Line((2.385968966, 6.356662024), (1.586098646, 2.335442375))
            Line((1.586098646, 2.335442375), (2.162990959, 2.220691359))
            ThreePointArc((2.162990959, 2.220691359), (-0.604779998, -3.040434369), (-1.148521284, 2.879392099))
        make_face()
    extrude(amount=-CUT_EXTRUDE_1_DEPTH, mode=Mode.SUBTRACT)


solid = part.part
